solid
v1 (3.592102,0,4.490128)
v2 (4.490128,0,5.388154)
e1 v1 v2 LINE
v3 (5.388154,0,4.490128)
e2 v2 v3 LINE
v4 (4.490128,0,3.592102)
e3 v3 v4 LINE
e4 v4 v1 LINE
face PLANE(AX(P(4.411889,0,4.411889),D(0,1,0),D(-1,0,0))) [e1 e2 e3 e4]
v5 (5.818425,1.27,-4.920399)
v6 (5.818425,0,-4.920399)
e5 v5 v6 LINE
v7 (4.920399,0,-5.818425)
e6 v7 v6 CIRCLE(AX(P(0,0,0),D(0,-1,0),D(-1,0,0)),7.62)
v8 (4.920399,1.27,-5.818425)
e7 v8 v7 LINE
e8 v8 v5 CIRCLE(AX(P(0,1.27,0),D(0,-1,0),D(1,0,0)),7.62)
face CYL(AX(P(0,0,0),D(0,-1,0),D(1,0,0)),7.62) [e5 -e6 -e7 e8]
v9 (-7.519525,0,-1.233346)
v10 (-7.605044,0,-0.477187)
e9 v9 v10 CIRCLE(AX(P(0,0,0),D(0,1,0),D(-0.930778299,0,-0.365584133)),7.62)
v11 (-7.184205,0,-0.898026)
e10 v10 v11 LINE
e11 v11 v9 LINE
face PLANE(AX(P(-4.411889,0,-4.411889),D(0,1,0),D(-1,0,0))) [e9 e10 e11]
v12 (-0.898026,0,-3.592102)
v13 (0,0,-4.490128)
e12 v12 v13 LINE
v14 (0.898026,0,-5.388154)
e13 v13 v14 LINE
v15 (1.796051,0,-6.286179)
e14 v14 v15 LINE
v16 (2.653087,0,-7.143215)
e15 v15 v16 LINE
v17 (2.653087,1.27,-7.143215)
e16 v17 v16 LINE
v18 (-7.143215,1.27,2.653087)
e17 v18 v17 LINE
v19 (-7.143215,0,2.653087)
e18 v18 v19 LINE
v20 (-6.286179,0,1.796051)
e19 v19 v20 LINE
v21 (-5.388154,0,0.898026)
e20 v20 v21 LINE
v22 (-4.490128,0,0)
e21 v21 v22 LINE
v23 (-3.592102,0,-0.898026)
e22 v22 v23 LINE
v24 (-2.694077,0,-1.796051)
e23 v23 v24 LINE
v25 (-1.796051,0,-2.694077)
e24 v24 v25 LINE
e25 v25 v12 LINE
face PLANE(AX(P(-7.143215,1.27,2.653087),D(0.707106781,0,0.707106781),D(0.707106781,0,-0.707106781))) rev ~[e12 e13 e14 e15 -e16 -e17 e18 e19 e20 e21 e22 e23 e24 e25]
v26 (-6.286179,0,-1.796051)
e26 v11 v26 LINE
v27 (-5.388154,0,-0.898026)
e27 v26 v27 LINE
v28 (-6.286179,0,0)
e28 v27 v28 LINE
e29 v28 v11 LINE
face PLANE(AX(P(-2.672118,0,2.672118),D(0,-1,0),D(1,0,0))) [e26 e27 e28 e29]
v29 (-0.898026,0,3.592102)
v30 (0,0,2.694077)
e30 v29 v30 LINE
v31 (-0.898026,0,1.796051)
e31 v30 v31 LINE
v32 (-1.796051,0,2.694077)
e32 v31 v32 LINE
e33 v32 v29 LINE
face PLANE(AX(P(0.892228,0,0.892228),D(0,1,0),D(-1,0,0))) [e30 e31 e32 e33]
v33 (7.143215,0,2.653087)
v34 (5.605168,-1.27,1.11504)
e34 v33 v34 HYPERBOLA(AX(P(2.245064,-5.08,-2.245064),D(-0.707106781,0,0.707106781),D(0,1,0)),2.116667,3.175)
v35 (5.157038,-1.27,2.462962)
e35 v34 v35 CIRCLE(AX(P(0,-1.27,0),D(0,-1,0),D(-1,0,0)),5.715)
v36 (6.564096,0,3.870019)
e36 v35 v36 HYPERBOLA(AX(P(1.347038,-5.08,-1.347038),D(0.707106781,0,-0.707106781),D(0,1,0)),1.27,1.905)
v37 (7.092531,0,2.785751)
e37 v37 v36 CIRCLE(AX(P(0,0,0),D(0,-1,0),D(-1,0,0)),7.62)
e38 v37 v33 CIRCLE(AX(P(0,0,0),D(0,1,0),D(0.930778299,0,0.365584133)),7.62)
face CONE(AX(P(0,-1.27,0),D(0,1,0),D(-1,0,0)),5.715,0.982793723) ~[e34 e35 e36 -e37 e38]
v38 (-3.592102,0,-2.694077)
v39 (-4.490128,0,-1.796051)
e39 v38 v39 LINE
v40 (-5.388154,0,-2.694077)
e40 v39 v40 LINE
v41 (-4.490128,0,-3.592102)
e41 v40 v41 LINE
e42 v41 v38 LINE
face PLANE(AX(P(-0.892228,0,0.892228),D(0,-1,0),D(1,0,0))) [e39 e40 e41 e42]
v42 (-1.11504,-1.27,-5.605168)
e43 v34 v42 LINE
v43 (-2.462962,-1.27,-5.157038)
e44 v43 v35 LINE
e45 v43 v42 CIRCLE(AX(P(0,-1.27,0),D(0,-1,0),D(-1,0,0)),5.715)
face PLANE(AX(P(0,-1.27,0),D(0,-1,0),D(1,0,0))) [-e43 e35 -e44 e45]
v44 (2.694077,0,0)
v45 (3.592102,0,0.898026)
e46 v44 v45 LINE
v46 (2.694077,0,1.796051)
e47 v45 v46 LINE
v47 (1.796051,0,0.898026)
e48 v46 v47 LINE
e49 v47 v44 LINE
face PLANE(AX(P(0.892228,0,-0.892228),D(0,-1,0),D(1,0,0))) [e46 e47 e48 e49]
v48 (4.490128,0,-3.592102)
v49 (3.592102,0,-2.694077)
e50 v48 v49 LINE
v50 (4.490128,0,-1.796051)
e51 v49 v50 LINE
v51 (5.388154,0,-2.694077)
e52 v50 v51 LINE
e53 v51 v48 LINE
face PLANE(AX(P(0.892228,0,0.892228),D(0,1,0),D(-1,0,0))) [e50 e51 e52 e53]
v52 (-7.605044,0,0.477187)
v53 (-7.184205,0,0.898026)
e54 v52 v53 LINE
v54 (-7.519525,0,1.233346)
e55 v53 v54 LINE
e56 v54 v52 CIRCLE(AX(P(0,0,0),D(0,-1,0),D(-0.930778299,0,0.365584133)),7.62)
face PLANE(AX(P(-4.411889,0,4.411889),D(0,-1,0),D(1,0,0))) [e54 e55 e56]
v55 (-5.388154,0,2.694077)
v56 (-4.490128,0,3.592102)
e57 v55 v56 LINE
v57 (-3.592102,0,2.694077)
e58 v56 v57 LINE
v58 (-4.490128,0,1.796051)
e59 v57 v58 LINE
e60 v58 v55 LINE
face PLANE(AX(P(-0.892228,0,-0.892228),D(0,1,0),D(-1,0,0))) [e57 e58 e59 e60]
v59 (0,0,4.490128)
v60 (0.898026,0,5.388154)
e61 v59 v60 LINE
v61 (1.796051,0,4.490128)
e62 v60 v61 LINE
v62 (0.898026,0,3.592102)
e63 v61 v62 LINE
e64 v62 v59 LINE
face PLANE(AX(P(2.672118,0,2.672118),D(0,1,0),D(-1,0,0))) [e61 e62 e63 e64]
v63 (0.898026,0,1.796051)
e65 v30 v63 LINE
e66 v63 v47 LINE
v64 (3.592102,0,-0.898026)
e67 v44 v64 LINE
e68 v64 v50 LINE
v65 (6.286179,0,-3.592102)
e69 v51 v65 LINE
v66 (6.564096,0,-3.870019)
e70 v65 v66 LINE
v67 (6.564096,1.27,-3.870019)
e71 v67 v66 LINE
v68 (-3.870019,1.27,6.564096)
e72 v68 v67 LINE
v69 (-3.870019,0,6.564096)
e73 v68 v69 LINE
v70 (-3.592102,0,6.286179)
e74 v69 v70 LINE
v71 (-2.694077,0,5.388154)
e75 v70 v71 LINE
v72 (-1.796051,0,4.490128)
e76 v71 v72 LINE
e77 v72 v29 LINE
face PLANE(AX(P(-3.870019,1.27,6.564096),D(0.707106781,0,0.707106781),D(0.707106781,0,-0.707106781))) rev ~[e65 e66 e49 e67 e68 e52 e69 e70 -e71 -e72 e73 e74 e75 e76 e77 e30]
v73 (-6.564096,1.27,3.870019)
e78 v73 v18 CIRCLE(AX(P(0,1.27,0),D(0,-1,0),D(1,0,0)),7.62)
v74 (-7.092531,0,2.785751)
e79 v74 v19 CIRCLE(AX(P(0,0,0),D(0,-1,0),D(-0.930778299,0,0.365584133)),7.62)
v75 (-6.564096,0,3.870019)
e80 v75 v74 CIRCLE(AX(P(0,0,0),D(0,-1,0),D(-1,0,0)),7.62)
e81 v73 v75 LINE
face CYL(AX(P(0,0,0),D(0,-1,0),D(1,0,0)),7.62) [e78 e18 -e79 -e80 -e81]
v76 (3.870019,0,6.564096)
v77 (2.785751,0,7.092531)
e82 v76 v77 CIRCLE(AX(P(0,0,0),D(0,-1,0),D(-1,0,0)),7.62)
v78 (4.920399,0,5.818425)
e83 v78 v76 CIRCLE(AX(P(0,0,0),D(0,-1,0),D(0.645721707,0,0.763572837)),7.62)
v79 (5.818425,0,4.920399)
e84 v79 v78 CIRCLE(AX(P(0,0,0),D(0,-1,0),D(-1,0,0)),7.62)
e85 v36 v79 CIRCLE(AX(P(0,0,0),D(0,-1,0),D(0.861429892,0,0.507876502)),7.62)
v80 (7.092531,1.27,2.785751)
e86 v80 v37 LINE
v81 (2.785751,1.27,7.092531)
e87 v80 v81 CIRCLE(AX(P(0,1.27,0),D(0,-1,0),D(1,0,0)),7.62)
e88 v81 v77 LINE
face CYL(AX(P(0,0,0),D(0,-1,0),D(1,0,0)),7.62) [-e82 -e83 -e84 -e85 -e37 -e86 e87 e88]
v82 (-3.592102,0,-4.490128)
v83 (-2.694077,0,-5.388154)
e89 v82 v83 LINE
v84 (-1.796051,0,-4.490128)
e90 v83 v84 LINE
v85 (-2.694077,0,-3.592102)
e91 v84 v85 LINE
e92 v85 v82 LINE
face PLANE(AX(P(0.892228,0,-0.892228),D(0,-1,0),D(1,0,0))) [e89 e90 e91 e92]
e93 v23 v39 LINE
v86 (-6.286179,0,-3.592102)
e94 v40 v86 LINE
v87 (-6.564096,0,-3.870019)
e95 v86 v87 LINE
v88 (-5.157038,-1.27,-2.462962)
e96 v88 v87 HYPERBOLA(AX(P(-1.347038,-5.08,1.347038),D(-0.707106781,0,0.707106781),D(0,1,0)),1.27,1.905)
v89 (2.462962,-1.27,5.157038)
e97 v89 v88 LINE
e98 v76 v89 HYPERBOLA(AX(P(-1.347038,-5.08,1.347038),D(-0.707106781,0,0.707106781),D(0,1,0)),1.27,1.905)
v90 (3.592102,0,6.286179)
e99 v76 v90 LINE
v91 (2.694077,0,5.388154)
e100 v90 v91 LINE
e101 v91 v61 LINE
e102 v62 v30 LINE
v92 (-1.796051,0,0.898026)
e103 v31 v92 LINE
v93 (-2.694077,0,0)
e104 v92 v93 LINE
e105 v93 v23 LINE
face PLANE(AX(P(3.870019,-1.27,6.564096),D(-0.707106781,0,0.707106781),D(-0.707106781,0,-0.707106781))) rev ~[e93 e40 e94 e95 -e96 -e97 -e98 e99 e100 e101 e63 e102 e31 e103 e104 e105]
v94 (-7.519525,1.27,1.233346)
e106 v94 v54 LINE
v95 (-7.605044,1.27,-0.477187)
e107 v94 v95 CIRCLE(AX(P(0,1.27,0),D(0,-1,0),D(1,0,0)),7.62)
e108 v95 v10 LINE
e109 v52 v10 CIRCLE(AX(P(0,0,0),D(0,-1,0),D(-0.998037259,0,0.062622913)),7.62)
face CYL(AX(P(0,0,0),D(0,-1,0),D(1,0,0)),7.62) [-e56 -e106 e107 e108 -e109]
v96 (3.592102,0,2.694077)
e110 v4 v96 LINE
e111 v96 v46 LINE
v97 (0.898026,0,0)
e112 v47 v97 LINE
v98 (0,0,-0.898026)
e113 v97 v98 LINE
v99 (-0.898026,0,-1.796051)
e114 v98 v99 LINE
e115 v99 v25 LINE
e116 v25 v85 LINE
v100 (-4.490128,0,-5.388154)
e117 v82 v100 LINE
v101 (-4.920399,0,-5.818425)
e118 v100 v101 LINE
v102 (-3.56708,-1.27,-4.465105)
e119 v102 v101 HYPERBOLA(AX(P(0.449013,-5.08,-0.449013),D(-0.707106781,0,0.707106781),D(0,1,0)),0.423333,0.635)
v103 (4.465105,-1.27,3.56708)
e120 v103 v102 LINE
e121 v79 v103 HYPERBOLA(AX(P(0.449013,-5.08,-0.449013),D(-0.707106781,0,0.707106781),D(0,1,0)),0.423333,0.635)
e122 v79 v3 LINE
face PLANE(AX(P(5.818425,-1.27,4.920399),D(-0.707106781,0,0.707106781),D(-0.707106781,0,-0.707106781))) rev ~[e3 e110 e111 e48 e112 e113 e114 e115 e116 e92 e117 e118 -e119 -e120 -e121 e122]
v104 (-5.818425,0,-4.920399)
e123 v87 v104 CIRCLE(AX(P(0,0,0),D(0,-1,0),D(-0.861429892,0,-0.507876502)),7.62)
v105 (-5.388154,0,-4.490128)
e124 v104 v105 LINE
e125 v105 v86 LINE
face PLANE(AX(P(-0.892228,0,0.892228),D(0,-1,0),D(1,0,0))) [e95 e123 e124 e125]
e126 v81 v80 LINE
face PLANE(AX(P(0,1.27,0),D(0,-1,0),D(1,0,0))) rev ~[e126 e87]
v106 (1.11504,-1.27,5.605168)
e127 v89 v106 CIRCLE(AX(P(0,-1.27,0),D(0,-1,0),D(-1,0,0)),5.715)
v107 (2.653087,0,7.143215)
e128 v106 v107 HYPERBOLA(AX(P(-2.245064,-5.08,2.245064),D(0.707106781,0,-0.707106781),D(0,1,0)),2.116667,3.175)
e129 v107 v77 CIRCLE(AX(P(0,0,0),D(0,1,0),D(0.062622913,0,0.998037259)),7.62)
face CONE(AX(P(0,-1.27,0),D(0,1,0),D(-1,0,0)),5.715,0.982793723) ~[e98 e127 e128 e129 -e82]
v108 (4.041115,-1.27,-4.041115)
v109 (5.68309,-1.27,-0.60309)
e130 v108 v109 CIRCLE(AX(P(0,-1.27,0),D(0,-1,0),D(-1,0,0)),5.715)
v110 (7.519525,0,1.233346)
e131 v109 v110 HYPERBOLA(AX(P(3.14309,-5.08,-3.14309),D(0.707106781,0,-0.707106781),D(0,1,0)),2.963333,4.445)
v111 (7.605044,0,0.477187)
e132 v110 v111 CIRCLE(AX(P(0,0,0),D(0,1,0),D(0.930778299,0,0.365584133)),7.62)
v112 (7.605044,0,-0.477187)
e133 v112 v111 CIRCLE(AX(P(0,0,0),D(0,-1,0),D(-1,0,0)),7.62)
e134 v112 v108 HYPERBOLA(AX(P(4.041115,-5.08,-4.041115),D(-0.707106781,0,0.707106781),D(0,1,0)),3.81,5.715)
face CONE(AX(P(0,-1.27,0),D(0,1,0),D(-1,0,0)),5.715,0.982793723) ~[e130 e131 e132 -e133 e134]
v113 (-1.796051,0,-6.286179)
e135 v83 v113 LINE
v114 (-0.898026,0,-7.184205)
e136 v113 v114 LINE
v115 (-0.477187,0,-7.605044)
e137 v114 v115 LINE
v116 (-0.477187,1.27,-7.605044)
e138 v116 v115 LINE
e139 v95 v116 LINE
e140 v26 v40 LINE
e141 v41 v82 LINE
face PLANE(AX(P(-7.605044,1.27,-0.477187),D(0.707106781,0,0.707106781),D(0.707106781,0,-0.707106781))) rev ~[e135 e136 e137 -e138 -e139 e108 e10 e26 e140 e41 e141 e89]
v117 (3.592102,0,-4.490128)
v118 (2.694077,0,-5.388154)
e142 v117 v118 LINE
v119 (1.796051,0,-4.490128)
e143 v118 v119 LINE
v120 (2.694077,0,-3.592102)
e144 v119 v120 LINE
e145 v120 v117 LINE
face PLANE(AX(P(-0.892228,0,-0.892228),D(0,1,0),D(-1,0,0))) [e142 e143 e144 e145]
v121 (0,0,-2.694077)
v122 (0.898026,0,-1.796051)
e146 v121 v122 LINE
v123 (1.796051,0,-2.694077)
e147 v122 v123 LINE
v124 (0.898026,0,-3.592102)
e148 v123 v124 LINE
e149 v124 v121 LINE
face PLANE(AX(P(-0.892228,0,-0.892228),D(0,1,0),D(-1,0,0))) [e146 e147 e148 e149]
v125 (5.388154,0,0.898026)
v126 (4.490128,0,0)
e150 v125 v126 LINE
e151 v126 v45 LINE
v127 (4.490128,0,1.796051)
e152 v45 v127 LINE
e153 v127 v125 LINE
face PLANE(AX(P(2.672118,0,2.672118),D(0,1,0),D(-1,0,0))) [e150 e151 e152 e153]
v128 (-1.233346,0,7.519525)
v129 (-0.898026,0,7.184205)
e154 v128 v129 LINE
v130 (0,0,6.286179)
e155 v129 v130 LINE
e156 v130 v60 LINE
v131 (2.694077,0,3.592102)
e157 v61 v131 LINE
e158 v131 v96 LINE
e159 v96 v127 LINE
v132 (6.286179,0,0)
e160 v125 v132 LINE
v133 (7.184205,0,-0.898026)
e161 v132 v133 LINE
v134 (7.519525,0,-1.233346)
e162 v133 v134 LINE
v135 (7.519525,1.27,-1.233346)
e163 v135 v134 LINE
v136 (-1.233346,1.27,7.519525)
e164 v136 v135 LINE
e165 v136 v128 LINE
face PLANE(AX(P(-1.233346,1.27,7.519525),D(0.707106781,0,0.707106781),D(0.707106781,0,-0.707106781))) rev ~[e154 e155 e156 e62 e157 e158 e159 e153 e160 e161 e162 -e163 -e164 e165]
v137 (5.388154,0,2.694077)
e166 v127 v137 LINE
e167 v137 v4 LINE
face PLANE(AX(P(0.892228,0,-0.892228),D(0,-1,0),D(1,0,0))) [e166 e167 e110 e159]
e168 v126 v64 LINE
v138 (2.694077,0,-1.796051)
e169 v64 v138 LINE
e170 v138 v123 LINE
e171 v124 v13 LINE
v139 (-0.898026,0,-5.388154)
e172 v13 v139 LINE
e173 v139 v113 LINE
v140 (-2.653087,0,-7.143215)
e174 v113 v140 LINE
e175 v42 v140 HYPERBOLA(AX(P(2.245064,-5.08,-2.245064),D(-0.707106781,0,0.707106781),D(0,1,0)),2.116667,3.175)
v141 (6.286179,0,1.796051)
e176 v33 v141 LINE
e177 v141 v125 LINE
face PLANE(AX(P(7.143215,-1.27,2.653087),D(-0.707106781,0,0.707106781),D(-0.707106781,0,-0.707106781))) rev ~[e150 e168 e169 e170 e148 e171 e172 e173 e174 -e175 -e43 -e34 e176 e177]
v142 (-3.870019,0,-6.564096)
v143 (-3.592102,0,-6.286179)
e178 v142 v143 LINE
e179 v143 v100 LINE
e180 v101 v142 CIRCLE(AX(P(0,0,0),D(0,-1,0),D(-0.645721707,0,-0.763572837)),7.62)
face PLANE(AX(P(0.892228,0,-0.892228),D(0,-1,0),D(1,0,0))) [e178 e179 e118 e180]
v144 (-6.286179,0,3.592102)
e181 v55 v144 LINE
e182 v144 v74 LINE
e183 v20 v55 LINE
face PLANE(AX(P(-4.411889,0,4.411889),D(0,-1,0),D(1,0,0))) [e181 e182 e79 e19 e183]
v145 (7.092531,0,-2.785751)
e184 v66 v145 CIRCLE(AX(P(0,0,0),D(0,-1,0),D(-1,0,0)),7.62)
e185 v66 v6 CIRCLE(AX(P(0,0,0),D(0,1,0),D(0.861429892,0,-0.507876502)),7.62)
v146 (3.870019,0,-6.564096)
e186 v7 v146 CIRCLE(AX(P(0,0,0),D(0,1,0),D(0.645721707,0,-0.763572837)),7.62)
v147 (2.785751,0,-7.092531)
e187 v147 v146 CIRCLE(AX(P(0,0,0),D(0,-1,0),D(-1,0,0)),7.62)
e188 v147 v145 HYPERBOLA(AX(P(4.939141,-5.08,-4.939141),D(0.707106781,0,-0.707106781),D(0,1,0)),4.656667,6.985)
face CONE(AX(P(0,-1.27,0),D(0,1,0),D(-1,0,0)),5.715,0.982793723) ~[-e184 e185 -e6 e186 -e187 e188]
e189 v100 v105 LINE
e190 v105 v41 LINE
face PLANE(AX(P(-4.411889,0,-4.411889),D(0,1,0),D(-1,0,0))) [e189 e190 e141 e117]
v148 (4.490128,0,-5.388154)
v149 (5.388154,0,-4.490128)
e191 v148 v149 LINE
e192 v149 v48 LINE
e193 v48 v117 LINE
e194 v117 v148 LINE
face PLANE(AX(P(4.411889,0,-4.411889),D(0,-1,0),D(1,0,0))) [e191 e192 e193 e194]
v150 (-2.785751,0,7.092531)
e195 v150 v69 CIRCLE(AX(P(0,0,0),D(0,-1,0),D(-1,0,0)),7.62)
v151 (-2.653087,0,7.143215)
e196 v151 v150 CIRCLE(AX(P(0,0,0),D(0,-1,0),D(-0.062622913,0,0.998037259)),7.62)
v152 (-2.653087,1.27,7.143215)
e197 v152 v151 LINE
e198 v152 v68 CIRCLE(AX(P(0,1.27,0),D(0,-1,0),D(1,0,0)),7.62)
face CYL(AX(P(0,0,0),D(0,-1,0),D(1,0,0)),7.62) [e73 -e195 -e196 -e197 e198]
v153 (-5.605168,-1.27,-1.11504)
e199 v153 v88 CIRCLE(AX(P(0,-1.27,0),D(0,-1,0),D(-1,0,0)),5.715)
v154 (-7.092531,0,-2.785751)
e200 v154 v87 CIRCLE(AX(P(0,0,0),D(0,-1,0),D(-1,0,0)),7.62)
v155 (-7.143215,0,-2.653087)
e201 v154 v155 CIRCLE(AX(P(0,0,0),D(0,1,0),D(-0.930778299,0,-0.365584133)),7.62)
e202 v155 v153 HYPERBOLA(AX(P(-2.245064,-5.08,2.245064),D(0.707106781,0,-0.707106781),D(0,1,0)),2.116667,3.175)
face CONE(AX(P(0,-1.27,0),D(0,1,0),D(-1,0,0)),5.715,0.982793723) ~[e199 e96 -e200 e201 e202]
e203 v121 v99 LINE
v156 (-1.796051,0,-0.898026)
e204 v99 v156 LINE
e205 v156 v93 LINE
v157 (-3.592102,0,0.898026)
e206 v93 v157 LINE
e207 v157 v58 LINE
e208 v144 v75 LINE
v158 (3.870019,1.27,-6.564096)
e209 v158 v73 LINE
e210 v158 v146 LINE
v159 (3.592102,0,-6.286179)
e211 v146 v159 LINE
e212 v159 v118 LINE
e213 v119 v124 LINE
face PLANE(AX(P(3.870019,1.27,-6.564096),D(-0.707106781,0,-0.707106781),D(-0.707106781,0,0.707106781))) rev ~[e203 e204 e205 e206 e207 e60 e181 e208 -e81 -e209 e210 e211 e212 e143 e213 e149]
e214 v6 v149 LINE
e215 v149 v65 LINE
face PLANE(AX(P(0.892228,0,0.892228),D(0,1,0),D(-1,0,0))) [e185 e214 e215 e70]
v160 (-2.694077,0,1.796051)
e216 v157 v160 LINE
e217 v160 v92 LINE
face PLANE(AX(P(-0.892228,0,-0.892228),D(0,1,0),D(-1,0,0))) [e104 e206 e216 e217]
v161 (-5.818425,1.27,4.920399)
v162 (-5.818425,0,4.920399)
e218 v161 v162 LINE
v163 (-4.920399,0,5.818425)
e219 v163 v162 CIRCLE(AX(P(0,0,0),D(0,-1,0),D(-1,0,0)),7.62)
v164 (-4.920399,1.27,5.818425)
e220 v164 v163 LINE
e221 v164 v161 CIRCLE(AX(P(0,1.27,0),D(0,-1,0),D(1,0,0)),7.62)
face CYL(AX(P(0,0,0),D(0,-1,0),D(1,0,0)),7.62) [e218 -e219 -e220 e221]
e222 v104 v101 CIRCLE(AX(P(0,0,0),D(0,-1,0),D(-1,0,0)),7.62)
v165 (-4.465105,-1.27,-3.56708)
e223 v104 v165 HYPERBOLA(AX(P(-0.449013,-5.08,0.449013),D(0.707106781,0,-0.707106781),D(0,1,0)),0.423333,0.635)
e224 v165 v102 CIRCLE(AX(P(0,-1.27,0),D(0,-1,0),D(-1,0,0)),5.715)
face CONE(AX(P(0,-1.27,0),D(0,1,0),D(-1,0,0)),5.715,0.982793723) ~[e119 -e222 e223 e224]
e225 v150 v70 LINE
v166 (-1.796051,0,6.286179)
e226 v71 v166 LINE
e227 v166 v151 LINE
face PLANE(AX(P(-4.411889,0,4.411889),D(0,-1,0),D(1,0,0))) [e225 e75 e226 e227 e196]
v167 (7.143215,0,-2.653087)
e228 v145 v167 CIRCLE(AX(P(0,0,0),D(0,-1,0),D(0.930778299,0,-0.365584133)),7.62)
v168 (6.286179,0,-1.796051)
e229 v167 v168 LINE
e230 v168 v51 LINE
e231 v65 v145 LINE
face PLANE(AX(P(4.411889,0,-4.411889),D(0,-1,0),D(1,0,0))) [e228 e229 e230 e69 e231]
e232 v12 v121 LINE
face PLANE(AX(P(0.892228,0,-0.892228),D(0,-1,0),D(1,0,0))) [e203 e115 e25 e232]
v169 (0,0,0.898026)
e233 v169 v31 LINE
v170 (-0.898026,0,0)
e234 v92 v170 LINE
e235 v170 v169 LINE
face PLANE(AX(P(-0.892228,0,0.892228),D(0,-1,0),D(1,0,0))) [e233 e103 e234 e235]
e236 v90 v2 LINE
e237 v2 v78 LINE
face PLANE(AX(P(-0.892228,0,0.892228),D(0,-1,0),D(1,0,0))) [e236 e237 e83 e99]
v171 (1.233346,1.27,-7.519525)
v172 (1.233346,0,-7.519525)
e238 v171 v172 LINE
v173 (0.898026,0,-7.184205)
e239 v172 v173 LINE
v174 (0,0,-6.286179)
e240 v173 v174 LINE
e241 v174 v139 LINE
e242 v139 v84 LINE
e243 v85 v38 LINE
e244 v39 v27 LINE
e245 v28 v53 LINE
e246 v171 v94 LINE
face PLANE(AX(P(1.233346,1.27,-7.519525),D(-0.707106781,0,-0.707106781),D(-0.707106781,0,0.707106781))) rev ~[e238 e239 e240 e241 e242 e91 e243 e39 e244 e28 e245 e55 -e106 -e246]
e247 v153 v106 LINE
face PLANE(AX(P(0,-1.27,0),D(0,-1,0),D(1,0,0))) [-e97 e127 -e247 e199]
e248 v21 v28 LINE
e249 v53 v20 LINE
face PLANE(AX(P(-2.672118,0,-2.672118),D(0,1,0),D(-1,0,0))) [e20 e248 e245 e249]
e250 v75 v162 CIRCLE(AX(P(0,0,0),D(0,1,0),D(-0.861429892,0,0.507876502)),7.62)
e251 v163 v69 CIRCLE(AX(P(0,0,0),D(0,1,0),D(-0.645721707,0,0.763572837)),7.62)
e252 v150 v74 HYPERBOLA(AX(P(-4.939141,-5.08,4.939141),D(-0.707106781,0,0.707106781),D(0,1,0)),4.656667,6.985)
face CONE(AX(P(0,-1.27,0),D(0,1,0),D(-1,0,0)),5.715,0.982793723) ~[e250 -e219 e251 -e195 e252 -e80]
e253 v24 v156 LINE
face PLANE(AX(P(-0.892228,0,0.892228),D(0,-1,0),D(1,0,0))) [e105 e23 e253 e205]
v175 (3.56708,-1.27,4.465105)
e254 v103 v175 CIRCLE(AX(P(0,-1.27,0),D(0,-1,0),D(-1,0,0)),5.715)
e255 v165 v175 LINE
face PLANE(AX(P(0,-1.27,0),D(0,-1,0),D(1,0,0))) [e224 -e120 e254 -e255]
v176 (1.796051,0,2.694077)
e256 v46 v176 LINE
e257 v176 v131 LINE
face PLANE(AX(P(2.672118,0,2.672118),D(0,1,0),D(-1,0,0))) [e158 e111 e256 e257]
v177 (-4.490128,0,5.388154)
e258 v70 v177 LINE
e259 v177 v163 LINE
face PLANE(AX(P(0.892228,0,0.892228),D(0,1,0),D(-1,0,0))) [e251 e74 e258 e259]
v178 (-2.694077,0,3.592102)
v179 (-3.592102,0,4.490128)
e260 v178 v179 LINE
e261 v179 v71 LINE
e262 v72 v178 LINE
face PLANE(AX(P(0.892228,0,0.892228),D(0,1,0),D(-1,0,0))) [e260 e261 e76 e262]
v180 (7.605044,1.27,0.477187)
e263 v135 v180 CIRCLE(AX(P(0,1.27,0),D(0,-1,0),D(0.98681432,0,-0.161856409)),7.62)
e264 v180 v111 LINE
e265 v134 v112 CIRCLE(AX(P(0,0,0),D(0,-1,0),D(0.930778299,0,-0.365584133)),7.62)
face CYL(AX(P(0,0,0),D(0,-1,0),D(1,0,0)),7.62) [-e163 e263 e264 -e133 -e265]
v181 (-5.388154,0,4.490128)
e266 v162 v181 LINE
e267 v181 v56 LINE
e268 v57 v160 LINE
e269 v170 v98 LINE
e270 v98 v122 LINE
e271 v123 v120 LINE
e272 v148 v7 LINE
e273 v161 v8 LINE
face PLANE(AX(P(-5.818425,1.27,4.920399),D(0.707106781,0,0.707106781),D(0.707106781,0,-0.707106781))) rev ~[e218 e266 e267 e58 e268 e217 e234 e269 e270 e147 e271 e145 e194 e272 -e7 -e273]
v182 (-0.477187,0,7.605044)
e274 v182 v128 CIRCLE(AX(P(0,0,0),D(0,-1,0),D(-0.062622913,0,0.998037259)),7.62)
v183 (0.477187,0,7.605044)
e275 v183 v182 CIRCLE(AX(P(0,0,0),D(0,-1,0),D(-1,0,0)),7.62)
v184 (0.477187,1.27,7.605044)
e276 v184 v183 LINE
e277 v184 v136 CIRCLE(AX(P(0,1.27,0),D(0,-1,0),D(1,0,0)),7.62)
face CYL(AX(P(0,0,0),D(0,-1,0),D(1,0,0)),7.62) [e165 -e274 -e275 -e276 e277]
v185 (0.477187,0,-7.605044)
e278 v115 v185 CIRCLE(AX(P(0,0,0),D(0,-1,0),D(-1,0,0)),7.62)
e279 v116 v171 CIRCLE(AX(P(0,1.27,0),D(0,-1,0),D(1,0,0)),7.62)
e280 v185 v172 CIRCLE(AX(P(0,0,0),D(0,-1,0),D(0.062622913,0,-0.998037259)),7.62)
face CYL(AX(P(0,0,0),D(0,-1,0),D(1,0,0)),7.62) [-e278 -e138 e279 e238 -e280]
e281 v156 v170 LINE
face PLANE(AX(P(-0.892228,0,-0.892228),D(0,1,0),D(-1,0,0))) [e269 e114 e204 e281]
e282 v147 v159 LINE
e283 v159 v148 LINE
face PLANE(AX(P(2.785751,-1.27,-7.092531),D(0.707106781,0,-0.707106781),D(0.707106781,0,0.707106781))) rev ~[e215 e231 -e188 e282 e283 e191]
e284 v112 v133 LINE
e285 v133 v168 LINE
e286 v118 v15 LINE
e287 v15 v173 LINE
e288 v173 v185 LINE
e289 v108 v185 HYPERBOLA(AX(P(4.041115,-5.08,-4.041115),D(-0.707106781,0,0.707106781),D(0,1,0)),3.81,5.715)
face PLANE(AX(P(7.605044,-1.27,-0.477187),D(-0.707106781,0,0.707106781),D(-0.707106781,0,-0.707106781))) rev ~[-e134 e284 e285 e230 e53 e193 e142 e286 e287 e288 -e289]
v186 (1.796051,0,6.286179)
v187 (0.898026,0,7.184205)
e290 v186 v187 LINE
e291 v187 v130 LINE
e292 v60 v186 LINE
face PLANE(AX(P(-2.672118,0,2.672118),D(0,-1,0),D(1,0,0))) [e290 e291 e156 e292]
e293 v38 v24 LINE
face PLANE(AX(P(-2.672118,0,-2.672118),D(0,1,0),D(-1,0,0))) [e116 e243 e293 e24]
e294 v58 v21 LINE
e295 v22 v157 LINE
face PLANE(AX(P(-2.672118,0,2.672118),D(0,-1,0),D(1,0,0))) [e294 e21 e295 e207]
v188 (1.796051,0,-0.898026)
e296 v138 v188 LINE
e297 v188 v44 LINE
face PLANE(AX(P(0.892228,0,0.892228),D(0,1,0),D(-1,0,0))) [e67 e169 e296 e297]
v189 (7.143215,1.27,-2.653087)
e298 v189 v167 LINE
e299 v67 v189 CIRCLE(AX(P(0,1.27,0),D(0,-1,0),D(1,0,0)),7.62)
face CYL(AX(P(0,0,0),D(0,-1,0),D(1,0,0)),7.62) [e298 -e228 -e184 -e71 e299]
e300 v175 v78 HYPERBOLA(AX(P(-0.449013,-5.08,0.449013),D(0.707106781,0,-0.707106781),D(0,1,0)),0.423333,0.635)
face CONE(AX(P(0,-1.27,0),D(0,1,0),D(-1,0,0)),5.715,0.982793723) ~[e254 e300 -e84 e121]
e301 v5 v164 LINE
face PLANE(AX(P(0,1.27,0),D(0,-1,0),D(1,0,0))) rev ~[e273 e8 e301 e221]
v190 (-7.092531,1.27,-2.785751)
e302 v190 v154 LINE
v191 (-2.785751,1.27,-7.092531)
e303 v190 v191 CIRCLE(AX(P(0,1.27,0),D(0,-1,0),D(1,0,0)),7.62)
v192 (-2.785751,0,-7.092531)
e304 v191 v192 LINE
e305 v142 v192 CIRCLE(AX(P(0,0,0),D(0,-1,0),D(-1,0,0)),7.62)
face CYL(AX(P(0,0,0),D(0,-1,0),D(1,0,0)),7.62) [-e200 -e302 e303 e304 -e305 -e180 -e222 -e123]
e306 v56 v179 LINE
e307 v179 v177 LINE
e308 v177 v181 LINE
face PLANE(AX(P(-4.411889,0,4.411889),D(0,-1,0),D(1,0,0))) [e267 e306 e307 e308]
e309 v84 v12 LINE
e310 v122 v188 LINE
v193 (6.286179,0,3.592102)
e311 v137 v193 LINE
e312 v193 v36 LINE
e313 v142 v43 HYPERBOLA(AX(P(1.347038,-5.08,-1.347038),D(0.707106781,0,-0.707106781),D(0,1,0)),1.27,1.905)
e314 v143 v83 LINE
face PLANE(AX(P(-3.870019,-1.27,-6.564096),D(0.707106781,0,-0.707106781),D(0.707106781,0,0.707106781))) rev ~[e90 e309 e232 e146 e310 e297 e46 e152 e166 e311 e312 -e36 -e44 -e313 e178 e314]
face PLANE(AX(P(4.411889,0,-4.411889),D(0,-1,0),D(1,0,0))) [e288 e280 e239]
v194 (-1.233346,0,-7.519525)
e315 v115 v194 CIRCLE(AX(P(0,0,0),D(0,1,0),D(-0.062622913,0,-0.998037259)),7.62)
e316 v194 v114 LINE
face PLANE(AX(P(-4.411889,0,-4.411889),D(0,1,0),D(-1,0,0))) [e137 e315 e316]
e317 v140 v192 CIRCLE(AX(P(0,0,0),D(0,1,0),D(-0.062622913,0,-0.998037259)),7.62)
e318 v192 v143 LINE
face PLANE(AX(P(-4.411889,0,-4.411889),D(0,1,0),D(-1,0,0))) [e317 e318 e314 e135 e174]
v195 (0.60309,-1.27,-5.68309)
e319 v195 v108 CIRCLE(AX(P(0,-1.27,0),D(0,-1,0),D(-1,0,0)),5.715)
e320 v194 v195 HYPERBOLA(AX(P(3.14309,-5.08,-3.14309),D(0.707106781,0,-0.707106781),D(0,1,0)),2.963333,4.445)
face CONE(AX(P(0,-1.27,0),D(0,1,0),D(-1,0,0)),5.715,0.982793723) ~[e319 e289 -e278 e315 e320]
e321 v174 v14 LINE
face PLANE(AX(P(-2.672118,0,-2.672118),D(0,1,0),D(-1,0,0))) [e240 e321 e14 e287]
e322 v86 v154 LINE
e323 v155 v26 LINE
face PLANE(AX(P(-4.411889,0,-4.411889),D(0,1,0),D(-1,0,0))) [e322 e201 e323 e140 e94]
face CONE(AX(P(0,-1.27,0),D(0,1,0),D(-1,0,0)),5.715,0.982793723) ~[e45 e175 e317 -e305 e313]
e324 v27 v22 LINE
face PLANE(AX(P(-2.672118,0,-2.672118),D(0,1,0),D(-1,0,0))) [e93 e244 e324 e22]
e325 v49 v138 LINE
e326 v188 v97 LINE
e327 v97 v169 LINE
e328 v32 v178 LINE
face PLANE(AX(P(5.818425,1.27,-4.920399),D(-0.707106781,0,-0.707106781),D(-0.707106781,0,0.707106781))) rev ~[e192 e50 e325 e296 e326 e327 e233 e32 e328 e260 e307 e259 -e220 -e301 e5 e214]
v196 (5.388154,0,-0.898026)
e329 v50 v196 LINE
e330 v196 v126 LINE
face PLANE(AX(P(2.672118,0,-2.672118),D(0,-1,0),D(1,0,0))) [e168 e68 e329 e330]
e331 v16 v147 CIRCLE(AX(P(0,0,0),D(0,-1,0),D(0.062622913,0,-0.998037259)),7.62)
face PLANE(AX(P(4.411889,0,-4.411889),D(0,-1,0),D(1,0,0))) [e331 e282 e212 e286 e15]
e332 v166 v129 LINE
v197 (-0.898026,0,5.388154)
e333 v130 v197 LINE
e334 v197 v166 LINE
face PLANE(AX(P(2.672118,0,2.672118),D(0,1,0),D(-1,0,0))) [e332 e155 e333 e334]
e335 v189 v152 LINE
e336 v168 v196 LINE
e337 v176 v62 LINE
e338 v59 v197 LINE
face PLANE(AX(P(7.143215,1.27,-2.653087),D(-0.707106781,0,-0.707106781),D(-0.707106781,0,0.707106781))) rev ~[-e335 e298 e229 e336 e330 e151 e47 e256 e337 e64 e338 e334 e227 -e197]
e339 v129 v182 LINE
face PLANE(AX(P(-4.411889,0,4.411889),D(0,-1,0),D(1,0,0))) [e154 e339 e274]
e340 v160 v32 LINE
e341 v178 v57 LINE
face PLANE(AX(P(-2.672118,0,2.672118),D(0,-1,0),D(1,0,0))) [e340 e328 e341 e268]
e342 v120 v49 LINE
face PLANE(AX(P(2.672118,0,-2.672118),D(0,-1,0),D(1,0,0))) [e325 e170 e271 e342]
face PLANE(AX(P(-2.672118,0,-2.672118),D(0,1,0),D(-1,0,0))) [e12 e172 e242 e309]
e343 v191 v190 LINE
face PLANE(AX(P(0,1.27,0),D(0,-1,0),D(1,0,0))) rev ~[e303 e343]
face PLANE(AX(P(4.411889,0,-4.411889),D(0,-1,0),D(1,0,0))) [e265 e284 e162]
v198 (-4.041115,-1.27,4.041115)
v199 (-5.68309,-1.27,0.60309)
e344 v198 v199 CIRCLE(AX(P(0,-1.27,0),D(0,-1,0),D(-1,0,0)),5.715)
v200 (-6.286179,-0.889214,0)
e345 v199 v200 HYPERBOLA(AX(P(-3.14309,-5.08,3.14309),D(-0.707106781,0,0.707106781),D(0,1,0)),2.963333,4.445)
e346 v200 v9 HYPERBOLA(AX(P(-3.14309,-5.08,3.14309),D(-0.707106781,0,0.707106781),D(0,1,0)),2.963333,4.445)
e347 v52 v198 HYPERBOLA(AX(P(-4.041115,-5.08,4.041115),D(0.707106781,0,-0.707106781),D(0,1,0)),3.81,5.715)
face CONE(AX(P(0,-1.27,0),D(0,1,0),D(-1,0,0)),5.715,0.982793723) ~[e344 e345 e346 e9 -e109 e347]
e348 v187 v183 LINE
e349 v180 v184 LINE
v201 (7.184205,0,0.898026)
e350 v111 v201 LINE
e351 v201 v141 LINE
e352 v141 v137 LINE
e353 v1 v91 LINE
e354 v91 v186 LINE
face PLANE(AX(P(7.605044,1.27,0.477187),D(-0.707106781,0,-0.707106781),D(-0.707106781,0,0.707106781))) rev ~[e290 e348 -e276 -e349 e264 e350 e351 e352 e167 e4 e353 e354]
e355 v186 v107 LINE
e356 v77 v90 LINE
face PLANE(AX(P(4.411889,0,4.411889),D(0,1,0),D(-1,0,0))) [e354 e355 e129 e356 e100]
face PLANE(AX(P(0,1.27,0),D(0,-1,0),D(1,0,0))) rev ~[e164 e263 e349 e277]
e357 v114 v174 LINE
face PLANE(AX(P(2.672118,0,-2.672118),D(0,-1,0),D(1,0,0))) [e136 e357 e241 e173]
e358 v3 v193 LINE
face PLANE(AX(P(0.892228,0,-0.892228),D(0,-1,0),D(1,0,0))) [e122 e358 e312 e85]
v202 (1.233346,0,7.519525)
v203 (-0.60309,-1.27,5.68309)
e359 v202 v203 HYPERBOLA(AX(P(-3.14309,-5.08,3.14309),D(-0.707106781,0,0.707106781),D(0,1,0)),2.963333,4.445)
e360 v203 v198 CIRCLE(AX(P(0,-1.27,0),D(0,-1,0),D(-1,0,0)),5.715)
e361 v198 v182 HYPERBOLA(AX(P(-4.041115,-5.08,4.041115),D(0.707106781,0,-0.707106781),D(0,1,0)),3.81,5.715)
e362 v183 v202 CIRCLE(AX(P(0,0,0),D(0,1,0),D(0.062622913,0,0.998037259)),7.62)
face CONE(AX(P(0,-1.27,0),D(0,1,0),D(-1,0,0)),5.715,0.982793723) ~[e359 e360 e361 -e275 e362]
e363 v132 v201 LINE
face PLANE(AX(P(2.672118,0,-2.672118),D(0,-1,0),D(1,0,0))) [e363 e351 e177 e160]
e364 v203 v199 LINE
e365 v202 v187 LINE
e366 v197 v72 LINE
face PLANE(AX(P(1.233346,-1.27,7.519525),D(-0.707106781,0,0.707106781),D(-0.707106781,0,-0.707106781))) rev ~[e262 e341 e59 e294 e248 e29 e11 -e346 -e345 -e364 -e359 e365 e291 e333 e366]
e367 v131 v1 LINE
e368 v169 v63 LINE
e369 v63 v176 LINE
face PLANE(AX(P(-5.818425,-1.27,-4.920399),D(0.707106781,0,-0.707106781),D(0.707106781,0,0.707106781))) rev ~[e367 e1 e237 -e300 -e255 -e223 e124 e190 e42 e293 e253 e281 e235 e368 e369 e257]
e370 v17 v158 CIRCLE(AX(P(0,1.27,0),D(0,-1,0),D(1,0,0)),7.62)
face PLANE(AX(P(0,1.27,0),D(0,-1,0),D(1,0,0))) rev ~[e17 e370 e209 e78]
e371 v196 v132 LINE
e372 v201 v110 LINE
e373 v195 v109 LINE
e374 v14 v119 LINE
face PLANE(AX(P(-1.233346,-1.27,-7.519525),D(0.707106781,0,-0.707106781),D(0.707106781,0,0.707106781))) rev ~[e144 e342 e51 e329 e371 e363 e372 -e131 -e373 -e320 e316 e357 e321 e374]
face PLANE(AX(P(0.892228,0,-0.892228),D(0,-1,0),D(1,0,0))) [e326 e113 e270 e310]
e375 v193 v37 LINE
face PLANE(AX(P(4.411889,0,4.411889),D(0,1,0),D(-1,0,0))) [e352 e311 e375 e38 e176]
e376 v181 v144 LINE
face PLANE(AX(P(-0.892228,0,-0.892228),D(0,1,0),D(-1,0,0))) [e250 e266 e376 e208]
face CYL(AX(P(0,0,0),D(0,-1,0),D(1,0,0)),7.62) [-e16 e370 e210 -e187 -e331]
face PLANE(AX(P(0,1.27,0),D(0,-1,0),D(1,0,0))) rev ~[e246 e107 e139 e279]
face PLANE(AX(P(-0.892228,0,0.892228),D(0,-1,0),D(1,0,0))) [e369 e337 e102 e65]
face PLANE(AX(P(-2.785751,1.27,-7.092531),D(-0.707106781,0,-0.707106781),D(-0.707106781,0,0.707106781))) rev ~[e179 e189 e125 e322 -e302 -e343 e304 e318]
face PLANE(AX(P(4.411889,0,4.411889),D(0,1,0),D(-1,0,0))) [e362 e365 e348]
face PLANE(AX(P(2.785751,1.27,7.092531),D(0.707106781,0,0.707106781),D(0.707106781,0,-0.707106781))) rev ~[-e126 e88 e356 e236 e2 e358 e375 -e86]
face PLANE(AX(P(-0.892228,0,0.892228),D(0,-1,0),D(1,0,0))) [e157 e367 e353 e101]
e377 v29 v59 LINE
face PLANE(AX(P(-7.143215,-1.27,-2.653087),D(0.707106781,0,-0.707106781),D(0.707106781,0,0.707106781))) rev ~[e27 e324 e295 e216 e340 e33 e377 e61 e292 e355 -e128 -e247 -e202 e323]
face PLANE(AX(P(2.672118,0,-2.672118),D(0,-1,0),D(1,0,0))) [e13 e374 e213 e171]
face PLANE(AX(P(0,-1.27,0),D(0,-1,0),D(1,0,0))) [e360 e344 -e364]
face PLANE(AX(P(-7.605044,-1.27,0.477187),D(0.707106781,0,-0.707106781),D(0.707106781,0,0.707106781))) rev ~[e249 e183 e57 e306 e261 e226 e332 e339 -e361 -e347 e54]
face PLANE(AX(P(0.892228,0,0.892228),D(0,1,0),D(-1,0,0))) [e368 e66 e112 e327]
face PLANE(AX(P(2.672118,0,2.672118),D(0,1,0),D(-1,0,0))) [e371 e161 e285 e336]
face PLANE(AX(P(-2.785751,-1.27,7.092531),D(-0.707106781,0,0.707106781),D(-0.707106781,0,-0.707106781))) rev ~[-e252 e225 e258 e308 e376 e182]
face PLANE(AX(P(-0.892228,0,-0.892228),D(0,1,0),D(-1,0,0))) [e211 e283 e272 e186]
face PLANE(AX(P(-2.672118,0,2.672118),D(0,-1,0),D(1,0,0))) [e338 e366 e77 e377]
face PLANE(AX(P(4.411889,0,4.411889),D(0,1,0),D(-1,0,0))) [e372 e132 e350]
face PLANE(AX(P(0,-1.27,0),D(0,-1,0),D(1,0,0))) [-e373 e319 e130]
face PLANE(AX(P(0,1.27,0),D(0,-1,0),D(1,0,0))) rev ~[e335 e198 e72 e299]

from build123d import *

# Parameters (mm, degrees)
F0_R     = 7.62
F1_DEPTH = 1.27
F3_DEPTH = 1.27
F5_DEPTH = 1.27


with BuildPart() as f1:
    # F0 (on Front) → F1 (new body, symmetric)
    with BuildSketch(Plane.XZ):
        Circle(F0_R)
    extrude(amount=F1_DEPTH, both=True)

    # F2 (on face) → F3 (cut)
    with BuildSketch(Plane.XZ.offset(1.27)):
        with BuildLine():
            Line((7.6050439154, -0.4771865936), (0.4771865936, -7.6050439154))
            ThreePointArc((0.4771865936, -7.6050439154), (1.6514714828, -7.438887144), (2.7857510969, -7.0925306362))
            Line((2.7857510969, -7.0925306362), (7.0925306362, -2.7857510969))
            ThreePointArc((7.0925306362, -2.7857510969), (7.438887144, -1.6514714828), (7.6050439154, -0.4771865936))
        make_face()
        with BuildLine():
            Line((7.1432154673, 2.6530874068), (-2.6530874068, -7.1432154673))
            ThreePointArc((-2.6530874068, -7.1432154673), (-1.9523045555, -7.3656572635), (-1.2333458364, -7.5195251212))
            Line((-1.2333458364, -7.5195251212), (7.5195251212, 1.2333458364))
            ThreePointArc((7.5195251212, 1.2333458364), (7.3656572635, 1.9523045555), (7.1432154673, 2.6530874068))
        make_face()
        with BuildLine():
            Line((5.8184250178, 4.9203994057), (-4.9203994057, -5.8184250178))
            ThreePointArc((-4.9203994057, -5.8184250178), (-4.410994208, -6.2134958032), (-3.8700189421, -6.5640957784))
            Line((-3.8700189421, -6.5640957784), (6.5640957784, 3.8700189421))
            ThreePointArc((6.5640957784, 3.8700189421), (6.2134958032, 4.410994208), (5.8184250178, 4.9203994057))
        make_face()
        with BuildLine():
            Line((3.8700189421, 6.5640957784), (-6.5640957784, -3.8700189421))
            ThreePointArc((-6.5640957784, -3.8700189421), (-6.2134958032, -4.410994208), (-5.8184250178, -4.9203994057))
            Line((-5.8184250178, -4.9203994057), (4.9203994057, 5.8184250178))
            ThreePointArc((4.9203994057, 5.8184250178), (4.410994208, 6.2134958032), (3.8700189421, 6.5640957784))
        make_face()
        with BuildLine():
            Line((1.2333458364, 7.5195251212), (-7.5195251212, -1.2333458364))
            ThreePointArc((-7.5195251212, -1.2333458364), (-7.3656572635, -1.9523045555), (-7.1432154673, -2.6530874068))
            Line((-7.1432154673, -2.6530874068), (2.6530874068, 7.1432154673))
            ThreePointArc((2.6530874068, 7.1432154673), (1.9523045555, 7.3656572635), (1.2333458364, 7.5195251212))
        make_face()
        with BuildLine():
            Line((-2.7857510969, 7.0925306362), (-7.0925306362, 2.7857510969))
            ThreePointArc((-7.0925306362, 2.7857510969), (-7.438887144, 1.6514714828), (-7.6050439154, 0.4771865936))
            Line((-7.6050439154, 0.4771865936), (-0.4771865936, 7.6050439154))
            ThreePointArc((-0.4771865936, 7.6050439154), (-1.6514714828, 7.438887144), (-2.7857510969, 7.0925306362))
        make_face()
    extrude(amount=-F3_DEPTH, mode=Mode.SUBTRACT)

    # F4 (on face) → F5 (cut)
    with BuildSketch(Plane(origin=(0, 1.27, 0), x_dir=(-1, 0, 0), z_dir=(0, 1, 0))):
        with BuildLine():
            ThreePointArc((-7.0925306362, 2.7857510969), (-7.438887144, 1.6514714828), (-7.6050439154, 0.4771865936))
            Line((-7.6050439154, 0.4771865936), (-0.4771865936, 7.6050439154))
            ThreePointArc((-0.4771865936, 7.6050439154), (-1.6514714828, 7.438887144), (-2.7857510969, 7.0925306362))
            Line((-2.7857510969, 7.0925306362), (-7.0925306362, 2.7857510969))
        make_face()
        with BuildLine():
            ThreePointArc((-7.5195251212, -1.2333458364), (-7.3656572635, -1.9523045555), (-7.1432154673, -2.6530874068))
            Line((-7.1432154673, -2.6530874068), (2.6530874068, 7.1432154673))
            ThreePointArc((2.6530874068, 7.1432154673), (1.9523045555, 7.3656572635), (1.2333458364, 7.5195251212))
            Line((1.2333458364, 7.5195251212), (-7.5195251212, -1.2333458364))
        make_face()
        with BuildLine():
            ThreePointArc((-6.5640957784, -3.8700189421), (-6.2134958032, -4.410994208), (-5.8184250178, -4.9203994057))
            Line((-5.8184250178, -4.9203994057), (4.9203994057, 5.8184250178))
            ThreePointArc((4.9203994057, 5.8184250178), (4.410994208, 6.2134958032), (3.8700189421, 6.5640957784))
            Line((3.8700189421, 6.5640957784), (-6.5640957784, -3.8700189421))
        make_face()
        with BuildLine():
            ThreePointArc((-4.9203994057, -5.8184250178), (-4.410994208, -6.2134958032), (-3.8700189421, -6.5640957784))
            Line((-3.8700189421, -6.5640957784), (6.5640957784, 3.8700189421))
            ThreePointArc((6.5640957784, 3.8700189421), (6.2134958032, 4.410994208), (5.8184250178, 4.9203994057))
            Line((5.8184250178, 4.9203994057), (-4.9203994057, -5.8184250178))
        make_face()
        with BuildLine():
            ThreePointArc((-2.6530874068, -7.1432154673), (-1.9523045555, -7.3656572635), (-1.2333458364, -7.5195251212))
            Line((-1.2333458364, -7.5195251212), (7.5195251212, 1.2333458364))
            ThreePointArc((7.5195251212, 1.2333458364), (7.3656572635, 1.9523045555), (7.1432154673, 2.6530874068))
            Line((7.1432154673, 2.6530874068), (-2.6530874068, -7.1432154673))
        make_face()
        with BuildLine():
            Line((2.7857510969, -7.0925306362), (7.0925306362, -2.7857510969))
            ThreePointArc((7.0925306362, -2.7857510969), (7.438887144, -1.6514714828), (7.6050439154, -0.4771865936))
            Line((7.6050439154, -0.4771865936), (0.4771865936, -7.6050439154))
            ThreePointArc((0.4771865936, -7.6050439154), (1.6514714828, -7.438887144), (2.7857510969, -7.0925306362))
        make_face()
    extrude(amount=-F5_DEPTH, mode=Mode.SUBTRACT)

    # F6 (on Top) → F7 (revolve, cut)
    with BuildSketch(Plane.XY):
        Polygon((-5.715, -1.27), (-7.62, 0), (-7.62, -1.27), align=None)
    revolve(axis=Axis((0, -1.3864838984, 0), (0, -1, 0)), mode=Mode.SUBTRACT)


solid = f1.part
